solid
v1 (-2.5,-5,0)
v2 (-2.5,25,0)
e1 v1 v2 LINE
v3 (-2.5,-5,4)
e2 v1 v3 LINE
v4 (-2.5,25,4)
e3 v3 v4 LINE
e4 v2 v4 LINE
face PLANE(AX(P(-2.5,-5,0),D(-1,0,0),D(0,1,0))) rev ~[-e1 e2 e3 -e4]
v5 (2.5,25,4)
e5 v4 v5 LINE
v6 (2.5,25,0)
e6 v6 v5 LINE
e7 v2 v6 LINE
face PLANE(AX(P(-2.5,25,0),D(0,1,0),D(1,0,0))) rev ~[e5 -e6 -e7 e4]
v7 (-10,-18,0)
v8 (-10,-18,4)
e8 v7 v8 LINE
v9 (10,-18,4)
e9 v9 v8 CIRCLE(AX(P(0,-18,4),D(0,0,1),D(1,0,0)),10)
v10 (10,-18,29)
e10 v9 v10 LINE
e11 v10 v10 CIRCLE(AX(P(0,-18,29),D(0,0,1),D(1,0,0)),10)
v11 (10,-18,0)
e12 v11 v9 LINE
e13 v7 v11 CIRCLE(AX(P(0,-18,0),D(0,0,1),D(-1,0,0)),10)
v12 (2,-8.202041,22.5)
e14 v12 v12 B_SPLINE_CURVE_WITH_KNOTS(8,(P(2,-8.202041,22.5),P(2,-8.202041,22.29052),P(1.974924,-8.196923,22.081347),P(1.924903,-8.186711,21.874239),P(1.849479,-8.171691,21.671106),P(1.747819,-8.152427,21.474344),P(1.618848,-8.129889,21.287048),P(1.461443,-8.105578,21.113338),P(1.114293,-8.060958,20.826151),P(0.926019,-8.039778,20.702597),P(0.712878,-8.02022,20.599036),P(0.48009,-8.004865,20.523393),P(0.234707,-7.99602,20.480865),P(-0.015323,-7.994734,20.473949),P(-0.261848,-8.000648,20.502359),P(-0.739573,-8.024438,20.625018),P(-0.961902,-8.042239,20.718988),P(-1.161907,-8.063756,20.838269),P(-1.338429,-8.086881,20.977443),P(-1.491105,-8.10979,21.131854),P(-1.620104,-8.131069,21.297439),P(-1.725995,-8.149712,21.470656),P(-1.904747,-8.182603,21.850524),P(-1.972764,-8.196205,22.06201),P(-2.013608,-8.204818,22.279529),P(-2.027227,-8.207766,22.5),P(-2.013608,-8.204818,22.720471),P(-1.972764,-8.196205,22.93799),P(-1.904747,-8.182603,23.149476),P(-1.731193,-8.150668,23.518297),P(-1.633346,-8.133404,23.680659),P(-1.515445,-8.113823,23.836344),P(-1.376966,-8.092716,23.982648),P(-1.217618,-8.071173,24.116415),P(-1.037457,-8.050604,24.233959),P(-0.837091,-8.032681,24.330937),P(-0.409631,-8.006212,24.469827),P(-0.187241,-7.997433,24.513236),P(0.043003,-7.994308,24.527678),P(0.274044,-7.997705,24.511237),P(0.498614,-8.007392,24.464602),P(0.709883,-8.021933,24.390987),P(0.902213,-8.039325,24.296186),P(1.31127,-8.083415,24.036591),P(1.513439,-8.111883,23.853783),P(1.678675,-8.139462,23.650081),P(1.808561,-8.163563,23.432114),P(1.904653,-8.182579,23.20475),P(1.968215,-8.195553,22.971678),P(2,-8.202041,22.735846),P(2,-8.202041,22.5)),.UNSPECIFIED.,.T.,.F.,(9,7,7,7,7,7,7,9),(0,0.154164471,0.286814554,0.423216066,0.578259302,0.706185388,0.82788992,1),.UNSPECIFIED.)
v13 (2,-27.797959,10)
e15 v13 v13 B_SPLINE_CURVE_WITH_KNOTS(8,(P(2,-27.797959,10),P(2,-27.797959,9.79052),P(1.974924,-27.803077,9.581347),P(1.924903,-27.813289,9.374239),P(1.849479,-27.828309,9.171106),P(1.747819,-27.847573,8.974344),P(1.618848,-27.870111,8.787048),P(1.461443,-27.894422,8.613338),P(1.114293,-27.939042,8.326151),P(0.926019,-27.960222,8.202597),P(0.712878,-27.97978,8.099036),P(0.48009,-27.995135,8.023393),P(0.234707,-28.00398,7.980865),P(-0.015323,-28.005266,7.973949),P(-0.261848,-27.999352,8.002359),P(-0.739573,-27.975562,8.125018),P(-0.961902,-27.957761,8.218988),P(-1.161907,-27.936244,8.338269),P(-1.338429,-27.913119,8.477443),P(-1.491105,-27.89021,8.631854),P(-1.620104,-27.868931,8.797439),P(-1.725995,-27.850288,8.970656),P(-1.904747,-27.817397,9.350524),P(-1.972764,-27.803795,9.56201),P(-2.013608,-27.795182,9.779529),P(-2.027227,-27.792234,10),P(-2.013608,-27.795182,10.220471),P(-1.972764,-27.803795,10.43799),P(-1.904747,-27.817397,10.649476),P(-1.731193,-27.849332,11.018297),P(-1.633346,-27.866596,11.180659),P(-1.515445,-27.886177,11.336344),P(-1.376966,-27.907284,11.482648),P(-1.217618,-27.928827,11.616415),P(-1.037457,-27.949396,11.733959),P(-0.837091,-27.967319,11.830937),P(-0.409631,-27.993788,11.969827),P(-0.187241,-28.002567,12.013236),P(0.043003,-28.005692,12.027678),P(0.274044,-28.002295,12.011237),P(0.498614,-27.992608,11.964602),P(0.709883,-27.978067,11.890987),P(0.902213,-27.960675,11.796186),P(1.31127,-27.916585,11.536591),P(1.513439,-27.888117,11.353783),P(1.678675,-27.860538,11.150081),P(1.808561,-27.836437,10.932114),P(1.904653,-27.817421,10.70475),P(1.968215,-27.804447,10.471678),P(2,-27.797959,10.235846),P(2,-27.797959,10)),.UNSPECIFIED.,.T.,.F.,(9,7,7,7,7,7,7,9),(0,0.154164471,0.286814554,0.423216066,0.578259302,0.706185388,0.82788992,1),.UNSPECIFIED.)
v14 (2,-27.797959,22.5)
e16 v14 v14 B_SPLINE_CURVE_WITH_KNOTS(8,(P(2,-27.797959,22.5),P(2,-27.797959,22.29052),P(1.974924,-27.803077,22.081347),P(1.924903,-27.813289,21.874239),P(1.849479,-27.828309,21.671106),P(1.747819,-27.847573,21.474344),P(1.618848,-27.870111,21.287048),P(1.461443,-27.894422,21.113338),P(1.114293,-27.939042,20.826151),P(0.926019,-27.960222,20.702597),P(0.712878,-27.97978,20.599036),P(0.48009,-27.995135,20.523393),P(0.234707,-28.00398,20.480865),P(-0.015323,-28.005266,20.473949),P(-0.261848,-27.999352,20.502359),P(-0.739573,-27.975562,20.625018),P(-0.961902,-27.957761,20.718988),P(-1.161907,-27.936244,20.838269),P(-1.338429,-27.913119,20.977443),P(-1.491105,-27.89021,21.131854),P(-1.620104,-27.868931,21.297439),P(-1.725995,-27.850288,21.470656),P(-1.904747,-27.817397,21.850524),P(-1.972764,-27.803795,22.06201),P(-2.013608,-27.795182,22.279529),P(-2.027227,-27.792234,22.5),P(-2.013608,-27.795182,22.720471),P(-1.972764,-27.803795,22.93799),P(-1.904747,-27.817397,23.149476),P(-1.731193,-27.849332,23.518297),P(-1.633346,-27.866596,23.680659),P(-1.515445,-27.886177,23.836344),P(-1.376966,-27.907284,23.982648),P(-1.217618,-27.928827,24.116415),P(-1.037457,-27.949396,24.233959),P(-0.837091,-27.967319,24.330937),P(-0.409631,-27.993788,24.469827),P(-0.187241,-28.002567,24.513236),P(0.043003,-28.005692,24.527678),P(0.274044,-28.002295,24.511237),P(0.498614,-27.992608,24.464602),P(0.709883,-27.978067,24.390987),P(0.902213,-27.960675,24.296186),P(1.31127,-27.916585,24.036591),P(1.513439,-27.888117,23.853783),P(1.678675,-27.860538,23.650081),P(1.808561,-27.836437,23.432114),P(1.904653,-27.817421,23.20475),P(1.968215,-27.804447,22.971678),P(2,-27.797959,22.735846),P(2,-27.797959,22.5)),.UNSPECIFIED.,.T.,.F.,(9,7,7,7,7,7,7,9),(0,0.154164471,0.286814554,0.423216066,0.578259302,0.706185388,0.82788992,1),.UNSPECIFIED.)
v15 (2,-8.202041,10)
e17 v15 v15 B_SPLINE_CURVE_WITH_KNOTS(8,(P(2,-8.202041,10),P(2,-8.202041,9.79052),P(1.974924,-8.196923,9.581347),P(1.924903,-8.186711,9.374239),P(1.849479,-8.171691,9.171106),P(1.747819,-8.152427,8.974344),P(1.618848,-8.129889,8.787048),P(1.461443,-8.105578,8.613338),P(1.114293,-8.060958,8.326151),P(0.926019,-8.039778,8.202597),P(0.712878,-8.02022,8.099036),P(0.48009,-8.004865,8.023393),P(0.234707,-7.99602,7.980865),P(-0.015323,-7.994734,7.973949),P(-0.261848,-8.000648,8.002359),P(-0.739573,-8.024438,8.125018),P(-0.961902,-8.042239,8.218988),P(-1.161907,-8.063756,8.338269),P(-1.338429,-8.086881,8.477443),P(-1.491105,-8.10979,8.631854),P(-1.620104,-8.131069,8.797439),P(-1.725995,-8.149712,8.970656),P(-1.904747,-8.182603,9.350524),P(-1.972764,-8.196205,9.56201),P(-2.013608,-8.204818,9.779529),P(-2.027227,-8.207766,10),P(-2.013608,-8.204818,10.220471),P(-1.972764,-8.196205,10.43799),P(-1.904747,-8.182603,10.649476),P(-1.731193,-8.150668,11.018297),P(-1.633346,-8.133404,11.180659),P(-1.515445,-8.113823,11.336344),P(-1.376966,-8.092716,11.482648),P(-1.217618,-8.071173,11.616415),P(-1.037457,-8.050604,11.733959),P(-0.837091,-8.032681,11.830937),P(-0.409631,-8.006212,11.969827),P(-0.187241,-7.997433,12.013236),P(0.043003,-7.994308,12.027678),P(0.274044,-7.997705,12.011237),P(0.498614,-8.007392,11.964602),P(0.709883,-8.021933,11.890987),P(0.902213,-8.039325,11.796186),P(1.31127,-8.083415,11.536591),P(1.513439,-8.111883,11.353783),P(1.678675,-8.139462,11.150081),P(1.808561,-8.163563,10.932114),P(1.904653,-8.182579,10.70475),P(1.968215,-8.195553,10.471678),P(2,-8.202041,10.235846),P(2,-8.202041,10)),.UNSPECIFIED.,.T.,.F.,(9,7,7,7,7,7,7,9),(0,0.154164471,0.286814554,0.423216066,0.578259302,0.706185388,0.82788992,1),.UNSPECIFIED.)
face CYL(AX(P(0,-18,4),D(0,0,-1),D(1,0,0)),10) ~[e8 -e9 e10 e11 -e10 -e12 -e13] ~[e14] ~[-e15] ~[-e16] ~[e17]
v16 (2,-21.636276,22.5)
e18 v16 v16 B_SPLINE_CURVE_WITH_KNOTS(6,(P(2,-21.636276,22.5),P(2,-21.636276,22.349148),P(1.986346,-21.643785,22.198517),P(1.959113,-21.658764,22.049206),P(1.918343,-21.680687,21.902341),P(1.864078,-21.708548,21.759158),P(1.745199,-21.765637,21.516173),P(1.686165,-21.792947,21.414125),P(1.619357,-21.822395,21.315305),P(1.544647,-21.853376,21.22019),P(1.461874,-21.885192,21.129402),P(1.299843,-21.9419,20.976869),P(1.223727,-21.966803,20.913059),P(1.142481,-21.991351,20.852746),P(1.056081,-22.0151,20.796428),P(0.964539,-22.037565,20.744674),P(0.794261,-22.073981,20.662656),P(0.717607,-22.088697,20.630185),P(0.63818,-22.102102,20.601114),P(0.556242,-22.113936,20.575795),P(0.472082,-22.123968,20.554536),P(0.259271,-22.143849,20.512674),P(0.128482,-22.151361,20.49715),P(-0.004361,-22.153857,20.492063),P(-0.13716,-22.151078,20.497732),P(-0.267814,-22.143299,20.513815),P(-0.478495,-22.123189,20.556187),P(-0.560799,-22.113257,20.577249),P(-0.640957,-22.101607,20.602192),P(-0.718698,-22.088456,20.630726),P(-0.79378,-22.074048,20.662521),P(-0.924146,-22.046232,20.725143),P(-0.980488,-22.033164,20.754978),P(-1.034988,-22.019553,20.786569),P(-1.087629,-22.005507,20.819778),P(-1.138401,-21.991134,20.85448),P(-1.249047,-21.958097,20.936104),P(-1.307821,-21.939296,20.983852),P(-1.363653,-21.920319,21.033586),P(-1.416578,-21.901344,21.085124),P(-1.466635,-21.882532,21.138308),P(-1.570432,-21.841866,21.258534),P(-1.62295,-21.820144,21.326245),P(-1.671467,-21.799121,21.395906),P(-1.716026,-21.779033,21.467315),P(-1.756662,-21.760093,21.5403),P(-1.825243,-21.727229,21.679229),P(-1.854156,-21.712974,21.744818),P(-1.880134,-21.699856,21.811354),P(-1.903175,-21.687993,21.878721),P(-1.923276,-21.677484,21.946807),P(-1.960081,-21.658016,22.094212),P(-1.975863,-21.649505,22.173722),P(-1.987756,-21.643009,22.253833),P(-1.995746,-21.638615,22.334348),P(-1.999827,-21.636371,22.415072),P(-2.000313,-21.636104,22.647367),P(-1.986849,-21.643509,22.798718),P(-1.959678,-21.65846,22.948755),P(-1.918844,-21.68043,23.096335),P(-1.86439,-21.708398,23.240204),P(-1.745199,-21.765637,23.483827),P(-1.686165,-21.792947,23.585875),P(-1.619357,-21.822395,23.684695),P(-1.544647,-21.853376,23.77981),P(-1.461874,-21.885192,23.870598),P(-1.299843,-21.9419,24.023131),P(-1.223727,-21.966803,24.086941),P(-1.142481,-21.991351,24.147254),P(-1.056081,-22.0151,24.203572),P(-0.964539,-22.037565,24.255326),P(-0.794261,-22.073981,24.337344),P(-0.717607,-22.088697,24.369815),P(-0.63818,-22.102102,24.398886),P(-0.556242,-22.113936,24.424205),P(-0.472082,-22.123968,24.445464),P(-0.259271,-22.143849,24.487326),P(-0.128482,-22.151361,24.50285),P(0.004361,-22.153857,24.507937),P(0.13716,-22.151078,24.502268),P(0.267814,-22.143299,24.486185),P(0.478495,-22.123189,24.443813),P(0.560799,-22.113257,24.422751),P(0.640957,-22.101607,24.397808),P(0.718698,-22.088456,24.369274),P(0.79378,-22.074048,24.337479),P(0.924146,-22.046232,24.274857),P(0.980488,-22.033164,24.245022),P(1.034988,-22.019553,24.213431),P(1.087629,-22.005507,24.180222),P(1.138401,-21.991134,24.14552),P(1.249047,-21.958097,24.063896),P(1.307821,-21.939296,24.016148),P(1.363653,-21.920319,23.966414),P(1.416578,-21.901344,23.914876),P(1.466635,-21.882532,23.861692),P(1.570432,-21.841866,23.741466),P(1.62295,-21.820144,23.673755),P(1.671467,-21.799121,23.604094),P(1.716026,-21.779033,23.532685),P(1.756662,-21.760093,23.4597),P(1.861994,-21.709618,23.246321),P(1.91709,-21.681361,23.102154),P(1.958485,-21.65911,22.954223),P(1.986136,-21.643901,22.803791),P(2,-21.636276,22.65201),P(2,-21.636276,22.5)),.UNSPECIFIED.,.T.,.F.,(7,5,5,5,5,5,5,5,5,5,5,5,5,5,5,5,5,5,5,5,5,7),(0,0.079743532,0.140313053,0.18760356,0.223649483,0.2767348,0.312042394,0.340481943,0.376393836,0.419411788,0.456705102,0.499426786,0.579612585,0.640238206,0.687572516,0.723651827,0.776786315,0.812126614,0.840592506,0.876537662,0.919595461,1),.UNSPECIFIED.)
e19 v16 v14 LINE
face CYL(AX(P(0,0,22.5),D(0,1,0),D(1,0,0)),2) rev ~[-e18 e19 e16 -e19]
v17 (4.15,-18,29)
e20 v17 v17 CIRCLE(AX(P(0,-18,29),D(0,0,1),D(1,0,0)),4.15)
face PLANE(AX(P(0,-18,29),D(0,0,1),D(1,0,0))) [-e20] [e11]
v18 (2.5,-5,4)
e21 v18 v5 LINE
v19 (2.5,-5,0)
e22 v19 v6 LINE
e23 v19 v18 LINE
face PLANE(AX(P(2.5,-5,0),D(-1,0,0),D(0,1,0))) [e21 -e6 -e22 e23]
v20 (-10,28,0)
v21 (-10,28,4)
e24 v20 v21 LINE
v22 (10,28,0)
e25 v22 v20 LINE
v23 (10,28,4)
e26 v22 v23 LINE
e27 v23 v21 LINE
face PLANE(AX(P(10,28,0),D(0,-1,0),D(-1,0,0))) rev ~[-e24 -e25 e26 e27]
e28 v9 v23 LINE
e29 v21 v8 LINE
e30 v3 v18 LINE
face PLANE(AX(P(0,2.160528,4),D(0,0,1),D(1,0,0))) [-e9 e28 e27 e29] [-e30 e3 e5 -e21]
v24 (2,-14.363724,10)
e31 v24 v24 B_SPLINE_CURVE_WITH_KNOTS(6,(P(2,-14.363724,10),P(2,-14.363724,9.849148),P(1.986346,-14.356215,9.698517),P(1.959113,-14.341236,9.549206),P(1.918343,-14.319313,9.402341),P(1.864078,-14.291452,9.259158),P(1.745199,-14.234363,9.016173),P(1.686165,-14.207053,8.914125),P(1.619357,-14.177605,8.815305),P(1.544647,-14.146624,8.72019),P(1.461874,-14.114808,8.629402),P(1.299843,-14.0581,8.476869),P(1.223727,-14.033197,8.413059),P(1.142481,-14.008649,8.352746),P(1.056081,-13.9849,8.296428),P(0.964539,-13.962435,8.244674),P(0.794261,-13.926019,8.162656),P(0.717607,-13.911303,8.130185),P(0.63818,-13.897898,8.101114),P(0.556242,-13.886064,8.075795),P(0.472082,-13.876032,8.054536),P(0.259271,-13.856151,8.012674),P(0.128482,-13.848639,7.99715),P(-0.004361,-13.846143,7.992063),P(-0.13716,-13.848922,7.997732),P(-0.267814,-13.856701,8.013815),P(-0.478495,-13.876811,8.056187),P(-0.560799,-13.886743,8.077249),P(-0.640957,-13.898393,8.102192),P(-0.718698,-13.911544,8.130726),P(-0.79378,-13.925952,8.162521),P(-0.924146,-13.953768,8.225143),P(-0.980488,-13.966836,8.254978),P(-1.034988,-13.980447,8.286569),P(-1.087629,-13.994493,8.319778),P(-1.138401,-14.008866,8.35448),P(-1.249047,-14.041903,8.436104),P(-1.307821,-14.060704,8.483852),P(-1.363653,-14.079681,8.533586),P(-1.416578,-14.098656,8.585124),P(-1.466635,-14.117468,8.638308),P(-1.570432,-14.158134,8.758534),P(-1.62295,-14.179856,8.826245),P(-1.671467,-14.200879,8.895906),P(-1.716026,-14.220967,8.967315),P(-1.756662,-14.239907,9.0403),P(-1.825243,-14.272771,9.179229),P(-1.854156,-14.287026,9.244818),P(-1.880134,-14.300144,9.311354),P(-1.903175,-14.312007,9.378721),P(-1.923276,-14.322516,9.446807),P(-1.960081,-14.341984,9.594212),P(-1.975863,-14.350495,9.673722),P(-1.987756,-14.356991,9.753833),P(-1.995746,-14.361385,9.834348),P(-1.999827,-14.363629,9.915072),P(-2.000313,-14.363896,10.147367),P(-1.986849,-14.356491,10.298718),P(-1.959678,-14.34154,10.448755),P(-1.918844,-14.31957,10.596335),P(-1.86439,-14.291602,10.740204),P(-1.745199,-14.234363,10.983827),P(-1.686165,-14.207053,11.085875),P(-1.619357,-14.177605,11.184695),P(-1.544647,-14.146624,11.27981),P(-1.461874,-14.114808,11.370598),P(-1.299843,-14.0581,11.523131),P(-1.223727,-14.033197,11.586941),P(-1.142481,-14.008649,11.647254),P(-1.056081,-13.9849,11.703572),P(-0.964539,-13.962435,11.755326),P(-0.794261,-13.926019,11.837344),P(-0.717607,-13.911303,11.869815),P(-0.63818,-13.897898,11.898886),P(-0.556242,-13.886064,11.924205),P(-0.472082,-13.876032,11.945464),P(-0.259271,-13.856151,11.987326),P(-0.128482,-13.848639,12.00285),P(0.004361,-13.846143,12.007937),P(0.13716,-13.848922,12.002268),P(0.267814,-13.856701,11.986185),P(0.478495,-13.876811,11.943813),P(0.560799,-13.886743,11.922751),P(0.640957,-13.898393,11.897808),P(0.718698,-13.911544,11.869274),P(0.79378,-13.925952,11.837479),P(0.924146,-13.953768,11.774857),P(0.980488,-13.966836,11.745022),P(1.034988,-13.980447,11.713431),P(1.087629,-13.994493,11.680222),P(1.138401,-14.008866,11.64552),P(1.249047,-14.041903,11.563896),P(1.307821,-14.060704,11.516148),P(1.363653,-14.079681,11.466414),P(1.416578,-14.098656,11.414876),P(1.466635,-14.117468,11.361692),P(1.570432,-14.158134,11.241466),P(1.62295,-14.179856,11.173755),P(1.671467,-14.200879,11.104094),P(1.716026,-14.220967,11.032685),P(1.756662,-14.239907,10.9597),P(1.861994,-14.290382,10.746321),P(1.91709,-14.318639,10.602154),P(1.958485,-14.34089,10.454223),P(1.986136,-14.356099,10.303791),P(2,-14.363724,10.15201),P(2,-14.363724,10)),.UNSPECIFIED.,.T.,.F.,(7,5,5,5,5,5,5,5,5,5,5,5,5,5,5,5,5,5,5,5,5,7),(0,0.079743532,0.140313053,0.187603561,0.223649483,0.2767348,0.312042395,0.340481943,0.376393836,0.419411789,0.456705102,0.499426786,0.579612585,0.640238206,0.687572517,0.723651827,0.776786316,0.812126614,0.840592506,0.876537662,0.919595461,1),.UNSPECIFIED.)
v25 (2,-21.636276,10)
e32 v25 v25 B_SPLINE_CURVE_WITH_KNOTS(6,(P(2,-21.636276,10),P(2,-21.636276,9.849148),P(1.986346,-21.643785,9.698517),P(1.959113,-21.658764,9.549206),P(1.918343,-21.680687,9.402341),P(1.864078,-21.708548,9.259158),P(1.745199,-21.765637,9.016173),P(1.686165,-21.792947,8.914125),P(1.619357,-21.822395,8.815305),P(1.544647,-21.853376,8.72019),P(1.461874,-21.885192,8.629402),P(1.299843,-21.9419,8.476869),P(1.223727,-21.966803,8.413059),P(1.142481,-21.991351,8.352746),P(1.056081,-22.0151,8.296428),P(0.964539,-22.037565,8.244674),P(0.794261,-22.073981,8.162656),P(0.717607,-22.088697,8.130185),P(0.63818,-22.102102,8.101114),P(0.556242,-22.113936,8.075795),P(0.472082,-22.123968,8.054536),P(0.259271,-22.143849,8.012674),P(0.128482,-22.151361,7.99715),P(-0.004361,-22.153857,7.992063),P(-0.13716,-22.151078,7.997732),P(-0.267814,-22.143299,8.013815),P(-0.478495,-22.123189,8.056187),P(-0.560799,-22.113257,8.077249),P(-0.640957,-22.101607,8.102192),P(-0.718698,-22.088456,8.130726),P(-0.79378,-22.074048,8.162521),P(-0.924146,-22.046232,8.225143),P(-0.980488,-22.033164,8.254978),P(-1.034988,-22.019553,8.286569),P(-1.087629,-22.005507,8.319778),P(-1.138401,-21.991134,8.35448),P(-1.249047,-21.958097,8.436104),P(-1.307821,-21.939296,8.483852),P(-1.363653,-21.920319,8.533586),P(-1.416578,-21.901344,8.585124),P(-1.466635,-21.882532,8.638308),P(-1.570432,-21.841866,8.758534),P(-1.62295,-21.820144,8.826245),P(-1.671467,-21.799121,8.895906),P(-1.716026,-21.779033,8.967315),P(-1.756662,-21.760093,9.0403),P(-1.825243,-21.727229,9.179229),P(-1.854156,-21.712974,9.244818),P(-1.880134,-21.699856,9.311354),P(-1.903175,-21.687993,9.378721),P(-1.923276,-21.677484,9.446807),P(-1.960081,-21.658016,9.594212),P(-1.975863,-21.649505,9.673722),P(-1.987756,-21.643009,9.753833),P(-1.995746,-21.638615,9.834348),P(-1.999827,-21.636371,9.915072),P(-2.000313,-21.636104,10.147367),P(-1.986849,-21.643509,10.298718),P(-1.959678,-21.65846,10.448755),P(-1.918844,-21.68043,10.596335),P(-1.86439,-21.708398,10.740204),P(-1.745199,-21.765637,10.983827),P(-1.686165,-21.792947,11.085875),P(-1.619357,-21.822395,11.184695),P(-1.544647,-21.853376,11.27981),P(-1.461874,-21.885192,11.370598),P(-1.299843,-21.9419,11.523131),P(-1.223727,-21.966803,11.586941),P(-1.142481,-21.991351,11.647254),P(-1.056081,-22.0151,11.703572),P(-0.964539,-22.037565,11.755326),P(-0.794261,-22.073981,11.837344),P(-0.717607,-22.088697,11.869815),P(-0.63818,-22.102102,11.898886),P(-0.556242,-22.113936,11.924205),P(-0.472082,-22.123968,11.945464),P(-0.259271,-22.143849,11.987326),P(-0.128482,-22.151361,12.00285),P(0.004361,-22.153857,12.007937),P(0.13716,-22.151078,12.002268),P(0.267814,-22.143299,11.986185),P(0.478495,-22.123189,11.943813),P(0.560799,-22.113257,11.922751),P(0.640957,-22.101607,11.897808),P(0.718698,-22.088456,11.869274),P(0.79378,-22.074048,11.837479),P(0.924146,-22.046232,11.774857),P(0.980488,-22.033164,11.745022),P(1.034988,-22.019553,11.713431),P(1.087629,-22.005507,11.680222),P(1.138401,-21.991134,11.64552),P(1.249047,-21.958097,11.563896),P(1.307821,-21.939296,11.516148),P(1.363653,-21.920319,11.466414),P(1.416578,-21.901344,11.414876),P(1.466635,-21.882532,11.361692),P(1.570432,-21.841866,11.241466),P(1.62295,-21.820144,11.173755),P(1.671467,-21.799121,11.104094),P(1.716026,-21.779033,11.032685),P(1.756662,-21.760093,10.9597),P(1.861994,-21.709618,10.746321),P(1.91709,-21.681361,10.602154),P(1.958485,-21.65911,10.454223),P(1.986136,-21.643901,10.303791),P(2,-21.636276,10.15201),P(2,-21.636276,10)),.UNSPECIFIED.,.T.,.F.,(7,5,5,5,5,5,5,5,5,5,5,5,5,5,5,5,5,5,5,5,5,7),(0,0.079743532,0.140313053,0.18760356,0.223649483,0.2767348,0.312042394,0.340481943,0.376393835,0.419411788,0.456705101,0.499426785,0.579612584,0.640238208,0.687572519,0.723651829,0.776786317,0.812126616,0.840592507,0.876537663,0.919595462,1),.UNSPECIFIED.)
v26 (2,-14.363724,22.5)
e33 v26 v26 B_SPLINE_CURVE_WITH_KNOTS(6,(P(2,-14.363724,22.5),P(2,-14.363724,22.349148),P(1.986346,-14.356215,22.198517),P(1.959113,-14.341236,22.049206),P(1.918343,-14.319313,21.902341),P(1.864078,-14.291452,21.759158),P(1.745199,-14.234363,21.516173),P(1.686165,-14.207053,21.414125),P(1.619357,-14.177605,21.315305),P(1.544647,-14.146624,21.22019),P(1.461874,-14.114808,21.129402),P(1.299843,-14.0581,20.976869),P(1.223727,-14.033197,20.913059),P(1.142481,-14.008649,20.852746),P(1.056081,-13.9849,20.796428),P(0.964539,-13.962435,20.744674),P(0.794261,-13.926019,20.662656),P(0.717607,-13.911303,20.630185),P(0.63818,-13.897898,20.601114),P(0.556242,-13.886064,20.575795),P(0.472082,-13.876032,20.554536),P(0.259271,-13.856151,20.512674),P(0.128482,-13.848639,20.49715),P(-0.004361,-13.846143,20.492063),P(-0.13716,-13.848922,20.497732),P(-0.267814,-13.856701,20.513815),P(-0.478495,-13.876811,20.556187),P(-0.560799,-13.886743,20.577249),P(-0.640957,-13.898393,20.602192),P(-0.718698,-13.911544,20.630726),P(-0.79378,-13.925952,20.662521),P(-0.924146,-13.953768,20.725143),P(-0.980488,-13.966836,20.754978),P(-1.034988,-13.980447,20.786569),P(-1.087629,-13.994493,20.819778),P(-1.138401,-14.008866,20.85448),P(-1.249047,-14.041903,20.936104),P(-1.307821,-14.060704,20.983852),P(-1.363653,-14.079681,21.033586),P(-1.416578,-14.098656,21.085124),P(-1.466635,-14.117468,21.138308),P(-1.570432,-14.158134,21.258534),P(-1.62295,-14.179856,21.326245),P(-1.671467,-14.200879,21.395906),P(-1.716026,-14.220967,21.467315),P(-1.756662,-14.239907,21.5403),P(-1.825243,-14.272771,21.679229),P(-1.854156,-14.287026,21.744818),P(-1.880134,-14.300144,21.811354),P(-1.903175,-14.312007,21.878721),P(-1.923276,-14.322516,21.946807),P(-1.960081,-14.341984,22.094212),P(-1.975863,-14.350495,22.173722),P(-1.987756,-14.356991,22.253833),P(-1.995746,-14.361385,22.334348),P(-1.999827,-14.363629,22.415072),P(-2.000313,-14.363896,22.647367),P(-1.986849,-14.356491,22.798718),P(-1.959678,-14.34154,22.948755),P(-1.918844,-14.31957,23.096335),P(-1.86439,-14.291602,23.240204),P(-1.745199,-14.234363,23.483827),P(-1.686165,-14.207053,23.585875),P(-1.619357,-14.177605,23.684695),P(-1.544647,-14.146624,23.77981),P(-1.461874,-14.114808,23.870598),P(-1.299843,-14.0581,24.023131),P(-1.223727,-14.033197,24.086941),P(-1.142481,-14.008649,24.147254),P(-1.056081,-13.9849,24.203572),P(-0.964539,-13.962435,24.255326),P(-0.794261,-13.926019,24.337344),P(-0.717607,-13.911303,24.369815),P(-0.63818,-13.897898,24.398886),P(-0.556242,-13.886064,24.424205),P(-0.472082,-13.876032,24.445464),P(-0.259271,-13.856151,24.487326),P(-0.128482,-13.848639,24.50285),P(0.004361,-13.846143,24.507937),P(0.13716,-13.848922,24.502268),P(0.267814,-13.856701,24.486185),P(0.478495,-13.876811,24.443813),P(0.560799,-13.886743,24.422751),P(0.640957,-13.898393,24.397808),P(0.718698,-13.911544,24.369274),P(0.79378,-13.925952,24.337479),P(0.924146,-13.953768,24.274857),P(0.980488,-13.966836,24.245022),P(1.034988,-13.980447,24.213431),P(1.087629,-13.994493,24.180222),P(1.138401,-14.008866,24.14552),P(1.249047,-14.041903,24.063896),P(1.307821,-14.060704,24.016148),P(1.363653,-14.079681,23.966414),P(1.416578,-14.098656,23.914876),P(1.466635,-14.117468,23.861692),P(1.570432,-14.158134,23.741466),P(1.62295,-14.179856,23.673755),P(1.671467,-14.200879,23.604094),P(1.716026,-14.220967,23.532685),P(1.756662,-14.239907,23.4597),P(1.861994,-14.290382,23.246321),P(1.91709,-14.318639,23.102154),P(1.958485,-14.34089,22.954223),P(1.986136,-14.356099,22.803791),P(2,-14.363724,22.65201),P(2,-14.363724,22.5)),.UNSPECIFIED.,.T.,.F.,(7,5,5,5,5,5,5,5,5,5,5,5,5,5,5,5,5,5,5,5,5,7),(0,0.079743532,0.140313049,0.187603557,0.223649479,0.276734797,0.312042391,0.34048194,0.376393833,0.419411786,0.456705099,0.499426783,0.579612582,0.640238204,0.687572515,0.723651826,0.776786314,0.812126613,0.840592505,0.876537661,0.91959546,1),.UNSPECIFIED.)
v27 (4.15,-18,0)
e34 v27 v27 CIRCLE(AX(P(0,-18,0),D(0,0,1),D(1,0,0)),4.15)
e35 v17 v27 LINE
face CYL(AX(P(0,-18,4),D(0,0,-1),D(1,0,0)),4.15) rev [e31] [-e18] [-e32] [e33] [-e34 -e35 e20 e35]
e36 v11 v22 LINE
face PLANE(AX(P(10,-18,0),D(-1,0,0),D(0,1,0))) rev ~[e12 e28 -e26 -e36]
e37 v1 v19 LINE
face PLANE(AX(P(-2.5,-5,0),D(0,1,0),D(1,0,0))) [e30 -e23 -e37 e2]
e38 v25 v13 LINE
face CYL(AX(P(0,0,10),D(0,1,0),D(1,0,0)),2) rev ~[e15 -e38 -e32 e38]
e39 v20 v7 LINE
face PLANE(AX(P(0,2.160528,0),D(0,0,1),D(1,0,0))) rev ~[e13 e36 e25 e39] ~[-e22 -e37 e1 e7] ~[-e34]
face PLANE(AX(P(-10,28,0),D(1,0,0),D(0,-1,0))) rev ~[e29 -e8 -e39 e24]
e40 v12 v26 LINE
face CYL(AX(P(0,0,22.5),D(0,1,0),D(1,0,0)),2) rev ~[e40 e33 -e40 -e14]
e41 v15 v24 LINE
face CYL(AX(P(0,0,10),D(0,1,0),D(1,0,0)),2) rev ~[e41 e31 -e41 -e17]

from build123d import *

# Parameters (mm, degrees)
CROQUIS1_W              = 5
CROQUIS1_H              = 30
SALIENTE_EXTRUIR1_DEPTH = 4
SALIENTE_EXTRUIR2_START = 4
CROQUIS2_R              = 10
CROQUIS2_R_2            = 4.15
SALIENTE_EXTRUIR2_DEPTH = 25
CORTAR_EXTRUIR1_START   = 4
CROQUIS3_R              = 4.15
CORTAR_EXTRUIR1_DEPTH   = 4
CROQUIS4_R              = 2
CORTAR_EXTRUIR2_DEPTH   = 29


with BuildPart() as part:
    # Croquis1 → Saliente-Extruir1 (new body)
    with BuildSketch(Plane.XY):
        with BuildLine():
            Line((10, -18), (10, 28))
            Line((10, 28), (-10, 28))
            Line((-10, 28), (-10, -18))
            ThreePointArc((-10, -18), (0, -28), (10, -18))
        make_face()
        with Locations((0, 10)):
            Rectangle(CROQUIS1_W, CROQUIS1_H, mode=Mode.SUBTRACT)
    extrude(amount=SALIENTE_EXTRUIR1_DEPTH)

    # Croquis2 → Saliente-Extruir2 (add)
    with BuildSketch(Plane.XY.offset(SALIENTE_EXTRUIR2_START)):
        with Locations((0, -18)):
            Circle(CROQUIS2_R)
        with Locations((0, -18)):
            Circle(CROQUIS2_R_2, mode=Mode.SUBTRACT)
    extrude(amount=SALIENTE_EXTRUIR2_DEPTH)

    # Croquis3 → Cortar-Extruir1 (cut)
    with BuildSketch(Plane.XY.offset(CORTAR_EXTRUIR1_START)):
        with Locations((0, -18)):
            Circle(CROQUIS3_R)
    extrude(amount=-CORTAR_EXTRUIR1_DEPTH, mode=Mode.SUBTRACT)

    # Croquis4 → Cortar-Extruir2 (cut, through all)
    with BuildSketch(Plane(origin=(0, 0, 0), x_dir=(1, 0, 0), z_dir=(0, 1, 0))):
        with Locations((0, -10)):
            Circle(CROQUIS4_R)
        with Locations((0, -22.5)):
            Circle(CROQUIS4_R)
    extrude(amount=-CORTAR_EXTRUIR2_DEPTH, mode=Mode.SUBTRACT)


solid = part.part
